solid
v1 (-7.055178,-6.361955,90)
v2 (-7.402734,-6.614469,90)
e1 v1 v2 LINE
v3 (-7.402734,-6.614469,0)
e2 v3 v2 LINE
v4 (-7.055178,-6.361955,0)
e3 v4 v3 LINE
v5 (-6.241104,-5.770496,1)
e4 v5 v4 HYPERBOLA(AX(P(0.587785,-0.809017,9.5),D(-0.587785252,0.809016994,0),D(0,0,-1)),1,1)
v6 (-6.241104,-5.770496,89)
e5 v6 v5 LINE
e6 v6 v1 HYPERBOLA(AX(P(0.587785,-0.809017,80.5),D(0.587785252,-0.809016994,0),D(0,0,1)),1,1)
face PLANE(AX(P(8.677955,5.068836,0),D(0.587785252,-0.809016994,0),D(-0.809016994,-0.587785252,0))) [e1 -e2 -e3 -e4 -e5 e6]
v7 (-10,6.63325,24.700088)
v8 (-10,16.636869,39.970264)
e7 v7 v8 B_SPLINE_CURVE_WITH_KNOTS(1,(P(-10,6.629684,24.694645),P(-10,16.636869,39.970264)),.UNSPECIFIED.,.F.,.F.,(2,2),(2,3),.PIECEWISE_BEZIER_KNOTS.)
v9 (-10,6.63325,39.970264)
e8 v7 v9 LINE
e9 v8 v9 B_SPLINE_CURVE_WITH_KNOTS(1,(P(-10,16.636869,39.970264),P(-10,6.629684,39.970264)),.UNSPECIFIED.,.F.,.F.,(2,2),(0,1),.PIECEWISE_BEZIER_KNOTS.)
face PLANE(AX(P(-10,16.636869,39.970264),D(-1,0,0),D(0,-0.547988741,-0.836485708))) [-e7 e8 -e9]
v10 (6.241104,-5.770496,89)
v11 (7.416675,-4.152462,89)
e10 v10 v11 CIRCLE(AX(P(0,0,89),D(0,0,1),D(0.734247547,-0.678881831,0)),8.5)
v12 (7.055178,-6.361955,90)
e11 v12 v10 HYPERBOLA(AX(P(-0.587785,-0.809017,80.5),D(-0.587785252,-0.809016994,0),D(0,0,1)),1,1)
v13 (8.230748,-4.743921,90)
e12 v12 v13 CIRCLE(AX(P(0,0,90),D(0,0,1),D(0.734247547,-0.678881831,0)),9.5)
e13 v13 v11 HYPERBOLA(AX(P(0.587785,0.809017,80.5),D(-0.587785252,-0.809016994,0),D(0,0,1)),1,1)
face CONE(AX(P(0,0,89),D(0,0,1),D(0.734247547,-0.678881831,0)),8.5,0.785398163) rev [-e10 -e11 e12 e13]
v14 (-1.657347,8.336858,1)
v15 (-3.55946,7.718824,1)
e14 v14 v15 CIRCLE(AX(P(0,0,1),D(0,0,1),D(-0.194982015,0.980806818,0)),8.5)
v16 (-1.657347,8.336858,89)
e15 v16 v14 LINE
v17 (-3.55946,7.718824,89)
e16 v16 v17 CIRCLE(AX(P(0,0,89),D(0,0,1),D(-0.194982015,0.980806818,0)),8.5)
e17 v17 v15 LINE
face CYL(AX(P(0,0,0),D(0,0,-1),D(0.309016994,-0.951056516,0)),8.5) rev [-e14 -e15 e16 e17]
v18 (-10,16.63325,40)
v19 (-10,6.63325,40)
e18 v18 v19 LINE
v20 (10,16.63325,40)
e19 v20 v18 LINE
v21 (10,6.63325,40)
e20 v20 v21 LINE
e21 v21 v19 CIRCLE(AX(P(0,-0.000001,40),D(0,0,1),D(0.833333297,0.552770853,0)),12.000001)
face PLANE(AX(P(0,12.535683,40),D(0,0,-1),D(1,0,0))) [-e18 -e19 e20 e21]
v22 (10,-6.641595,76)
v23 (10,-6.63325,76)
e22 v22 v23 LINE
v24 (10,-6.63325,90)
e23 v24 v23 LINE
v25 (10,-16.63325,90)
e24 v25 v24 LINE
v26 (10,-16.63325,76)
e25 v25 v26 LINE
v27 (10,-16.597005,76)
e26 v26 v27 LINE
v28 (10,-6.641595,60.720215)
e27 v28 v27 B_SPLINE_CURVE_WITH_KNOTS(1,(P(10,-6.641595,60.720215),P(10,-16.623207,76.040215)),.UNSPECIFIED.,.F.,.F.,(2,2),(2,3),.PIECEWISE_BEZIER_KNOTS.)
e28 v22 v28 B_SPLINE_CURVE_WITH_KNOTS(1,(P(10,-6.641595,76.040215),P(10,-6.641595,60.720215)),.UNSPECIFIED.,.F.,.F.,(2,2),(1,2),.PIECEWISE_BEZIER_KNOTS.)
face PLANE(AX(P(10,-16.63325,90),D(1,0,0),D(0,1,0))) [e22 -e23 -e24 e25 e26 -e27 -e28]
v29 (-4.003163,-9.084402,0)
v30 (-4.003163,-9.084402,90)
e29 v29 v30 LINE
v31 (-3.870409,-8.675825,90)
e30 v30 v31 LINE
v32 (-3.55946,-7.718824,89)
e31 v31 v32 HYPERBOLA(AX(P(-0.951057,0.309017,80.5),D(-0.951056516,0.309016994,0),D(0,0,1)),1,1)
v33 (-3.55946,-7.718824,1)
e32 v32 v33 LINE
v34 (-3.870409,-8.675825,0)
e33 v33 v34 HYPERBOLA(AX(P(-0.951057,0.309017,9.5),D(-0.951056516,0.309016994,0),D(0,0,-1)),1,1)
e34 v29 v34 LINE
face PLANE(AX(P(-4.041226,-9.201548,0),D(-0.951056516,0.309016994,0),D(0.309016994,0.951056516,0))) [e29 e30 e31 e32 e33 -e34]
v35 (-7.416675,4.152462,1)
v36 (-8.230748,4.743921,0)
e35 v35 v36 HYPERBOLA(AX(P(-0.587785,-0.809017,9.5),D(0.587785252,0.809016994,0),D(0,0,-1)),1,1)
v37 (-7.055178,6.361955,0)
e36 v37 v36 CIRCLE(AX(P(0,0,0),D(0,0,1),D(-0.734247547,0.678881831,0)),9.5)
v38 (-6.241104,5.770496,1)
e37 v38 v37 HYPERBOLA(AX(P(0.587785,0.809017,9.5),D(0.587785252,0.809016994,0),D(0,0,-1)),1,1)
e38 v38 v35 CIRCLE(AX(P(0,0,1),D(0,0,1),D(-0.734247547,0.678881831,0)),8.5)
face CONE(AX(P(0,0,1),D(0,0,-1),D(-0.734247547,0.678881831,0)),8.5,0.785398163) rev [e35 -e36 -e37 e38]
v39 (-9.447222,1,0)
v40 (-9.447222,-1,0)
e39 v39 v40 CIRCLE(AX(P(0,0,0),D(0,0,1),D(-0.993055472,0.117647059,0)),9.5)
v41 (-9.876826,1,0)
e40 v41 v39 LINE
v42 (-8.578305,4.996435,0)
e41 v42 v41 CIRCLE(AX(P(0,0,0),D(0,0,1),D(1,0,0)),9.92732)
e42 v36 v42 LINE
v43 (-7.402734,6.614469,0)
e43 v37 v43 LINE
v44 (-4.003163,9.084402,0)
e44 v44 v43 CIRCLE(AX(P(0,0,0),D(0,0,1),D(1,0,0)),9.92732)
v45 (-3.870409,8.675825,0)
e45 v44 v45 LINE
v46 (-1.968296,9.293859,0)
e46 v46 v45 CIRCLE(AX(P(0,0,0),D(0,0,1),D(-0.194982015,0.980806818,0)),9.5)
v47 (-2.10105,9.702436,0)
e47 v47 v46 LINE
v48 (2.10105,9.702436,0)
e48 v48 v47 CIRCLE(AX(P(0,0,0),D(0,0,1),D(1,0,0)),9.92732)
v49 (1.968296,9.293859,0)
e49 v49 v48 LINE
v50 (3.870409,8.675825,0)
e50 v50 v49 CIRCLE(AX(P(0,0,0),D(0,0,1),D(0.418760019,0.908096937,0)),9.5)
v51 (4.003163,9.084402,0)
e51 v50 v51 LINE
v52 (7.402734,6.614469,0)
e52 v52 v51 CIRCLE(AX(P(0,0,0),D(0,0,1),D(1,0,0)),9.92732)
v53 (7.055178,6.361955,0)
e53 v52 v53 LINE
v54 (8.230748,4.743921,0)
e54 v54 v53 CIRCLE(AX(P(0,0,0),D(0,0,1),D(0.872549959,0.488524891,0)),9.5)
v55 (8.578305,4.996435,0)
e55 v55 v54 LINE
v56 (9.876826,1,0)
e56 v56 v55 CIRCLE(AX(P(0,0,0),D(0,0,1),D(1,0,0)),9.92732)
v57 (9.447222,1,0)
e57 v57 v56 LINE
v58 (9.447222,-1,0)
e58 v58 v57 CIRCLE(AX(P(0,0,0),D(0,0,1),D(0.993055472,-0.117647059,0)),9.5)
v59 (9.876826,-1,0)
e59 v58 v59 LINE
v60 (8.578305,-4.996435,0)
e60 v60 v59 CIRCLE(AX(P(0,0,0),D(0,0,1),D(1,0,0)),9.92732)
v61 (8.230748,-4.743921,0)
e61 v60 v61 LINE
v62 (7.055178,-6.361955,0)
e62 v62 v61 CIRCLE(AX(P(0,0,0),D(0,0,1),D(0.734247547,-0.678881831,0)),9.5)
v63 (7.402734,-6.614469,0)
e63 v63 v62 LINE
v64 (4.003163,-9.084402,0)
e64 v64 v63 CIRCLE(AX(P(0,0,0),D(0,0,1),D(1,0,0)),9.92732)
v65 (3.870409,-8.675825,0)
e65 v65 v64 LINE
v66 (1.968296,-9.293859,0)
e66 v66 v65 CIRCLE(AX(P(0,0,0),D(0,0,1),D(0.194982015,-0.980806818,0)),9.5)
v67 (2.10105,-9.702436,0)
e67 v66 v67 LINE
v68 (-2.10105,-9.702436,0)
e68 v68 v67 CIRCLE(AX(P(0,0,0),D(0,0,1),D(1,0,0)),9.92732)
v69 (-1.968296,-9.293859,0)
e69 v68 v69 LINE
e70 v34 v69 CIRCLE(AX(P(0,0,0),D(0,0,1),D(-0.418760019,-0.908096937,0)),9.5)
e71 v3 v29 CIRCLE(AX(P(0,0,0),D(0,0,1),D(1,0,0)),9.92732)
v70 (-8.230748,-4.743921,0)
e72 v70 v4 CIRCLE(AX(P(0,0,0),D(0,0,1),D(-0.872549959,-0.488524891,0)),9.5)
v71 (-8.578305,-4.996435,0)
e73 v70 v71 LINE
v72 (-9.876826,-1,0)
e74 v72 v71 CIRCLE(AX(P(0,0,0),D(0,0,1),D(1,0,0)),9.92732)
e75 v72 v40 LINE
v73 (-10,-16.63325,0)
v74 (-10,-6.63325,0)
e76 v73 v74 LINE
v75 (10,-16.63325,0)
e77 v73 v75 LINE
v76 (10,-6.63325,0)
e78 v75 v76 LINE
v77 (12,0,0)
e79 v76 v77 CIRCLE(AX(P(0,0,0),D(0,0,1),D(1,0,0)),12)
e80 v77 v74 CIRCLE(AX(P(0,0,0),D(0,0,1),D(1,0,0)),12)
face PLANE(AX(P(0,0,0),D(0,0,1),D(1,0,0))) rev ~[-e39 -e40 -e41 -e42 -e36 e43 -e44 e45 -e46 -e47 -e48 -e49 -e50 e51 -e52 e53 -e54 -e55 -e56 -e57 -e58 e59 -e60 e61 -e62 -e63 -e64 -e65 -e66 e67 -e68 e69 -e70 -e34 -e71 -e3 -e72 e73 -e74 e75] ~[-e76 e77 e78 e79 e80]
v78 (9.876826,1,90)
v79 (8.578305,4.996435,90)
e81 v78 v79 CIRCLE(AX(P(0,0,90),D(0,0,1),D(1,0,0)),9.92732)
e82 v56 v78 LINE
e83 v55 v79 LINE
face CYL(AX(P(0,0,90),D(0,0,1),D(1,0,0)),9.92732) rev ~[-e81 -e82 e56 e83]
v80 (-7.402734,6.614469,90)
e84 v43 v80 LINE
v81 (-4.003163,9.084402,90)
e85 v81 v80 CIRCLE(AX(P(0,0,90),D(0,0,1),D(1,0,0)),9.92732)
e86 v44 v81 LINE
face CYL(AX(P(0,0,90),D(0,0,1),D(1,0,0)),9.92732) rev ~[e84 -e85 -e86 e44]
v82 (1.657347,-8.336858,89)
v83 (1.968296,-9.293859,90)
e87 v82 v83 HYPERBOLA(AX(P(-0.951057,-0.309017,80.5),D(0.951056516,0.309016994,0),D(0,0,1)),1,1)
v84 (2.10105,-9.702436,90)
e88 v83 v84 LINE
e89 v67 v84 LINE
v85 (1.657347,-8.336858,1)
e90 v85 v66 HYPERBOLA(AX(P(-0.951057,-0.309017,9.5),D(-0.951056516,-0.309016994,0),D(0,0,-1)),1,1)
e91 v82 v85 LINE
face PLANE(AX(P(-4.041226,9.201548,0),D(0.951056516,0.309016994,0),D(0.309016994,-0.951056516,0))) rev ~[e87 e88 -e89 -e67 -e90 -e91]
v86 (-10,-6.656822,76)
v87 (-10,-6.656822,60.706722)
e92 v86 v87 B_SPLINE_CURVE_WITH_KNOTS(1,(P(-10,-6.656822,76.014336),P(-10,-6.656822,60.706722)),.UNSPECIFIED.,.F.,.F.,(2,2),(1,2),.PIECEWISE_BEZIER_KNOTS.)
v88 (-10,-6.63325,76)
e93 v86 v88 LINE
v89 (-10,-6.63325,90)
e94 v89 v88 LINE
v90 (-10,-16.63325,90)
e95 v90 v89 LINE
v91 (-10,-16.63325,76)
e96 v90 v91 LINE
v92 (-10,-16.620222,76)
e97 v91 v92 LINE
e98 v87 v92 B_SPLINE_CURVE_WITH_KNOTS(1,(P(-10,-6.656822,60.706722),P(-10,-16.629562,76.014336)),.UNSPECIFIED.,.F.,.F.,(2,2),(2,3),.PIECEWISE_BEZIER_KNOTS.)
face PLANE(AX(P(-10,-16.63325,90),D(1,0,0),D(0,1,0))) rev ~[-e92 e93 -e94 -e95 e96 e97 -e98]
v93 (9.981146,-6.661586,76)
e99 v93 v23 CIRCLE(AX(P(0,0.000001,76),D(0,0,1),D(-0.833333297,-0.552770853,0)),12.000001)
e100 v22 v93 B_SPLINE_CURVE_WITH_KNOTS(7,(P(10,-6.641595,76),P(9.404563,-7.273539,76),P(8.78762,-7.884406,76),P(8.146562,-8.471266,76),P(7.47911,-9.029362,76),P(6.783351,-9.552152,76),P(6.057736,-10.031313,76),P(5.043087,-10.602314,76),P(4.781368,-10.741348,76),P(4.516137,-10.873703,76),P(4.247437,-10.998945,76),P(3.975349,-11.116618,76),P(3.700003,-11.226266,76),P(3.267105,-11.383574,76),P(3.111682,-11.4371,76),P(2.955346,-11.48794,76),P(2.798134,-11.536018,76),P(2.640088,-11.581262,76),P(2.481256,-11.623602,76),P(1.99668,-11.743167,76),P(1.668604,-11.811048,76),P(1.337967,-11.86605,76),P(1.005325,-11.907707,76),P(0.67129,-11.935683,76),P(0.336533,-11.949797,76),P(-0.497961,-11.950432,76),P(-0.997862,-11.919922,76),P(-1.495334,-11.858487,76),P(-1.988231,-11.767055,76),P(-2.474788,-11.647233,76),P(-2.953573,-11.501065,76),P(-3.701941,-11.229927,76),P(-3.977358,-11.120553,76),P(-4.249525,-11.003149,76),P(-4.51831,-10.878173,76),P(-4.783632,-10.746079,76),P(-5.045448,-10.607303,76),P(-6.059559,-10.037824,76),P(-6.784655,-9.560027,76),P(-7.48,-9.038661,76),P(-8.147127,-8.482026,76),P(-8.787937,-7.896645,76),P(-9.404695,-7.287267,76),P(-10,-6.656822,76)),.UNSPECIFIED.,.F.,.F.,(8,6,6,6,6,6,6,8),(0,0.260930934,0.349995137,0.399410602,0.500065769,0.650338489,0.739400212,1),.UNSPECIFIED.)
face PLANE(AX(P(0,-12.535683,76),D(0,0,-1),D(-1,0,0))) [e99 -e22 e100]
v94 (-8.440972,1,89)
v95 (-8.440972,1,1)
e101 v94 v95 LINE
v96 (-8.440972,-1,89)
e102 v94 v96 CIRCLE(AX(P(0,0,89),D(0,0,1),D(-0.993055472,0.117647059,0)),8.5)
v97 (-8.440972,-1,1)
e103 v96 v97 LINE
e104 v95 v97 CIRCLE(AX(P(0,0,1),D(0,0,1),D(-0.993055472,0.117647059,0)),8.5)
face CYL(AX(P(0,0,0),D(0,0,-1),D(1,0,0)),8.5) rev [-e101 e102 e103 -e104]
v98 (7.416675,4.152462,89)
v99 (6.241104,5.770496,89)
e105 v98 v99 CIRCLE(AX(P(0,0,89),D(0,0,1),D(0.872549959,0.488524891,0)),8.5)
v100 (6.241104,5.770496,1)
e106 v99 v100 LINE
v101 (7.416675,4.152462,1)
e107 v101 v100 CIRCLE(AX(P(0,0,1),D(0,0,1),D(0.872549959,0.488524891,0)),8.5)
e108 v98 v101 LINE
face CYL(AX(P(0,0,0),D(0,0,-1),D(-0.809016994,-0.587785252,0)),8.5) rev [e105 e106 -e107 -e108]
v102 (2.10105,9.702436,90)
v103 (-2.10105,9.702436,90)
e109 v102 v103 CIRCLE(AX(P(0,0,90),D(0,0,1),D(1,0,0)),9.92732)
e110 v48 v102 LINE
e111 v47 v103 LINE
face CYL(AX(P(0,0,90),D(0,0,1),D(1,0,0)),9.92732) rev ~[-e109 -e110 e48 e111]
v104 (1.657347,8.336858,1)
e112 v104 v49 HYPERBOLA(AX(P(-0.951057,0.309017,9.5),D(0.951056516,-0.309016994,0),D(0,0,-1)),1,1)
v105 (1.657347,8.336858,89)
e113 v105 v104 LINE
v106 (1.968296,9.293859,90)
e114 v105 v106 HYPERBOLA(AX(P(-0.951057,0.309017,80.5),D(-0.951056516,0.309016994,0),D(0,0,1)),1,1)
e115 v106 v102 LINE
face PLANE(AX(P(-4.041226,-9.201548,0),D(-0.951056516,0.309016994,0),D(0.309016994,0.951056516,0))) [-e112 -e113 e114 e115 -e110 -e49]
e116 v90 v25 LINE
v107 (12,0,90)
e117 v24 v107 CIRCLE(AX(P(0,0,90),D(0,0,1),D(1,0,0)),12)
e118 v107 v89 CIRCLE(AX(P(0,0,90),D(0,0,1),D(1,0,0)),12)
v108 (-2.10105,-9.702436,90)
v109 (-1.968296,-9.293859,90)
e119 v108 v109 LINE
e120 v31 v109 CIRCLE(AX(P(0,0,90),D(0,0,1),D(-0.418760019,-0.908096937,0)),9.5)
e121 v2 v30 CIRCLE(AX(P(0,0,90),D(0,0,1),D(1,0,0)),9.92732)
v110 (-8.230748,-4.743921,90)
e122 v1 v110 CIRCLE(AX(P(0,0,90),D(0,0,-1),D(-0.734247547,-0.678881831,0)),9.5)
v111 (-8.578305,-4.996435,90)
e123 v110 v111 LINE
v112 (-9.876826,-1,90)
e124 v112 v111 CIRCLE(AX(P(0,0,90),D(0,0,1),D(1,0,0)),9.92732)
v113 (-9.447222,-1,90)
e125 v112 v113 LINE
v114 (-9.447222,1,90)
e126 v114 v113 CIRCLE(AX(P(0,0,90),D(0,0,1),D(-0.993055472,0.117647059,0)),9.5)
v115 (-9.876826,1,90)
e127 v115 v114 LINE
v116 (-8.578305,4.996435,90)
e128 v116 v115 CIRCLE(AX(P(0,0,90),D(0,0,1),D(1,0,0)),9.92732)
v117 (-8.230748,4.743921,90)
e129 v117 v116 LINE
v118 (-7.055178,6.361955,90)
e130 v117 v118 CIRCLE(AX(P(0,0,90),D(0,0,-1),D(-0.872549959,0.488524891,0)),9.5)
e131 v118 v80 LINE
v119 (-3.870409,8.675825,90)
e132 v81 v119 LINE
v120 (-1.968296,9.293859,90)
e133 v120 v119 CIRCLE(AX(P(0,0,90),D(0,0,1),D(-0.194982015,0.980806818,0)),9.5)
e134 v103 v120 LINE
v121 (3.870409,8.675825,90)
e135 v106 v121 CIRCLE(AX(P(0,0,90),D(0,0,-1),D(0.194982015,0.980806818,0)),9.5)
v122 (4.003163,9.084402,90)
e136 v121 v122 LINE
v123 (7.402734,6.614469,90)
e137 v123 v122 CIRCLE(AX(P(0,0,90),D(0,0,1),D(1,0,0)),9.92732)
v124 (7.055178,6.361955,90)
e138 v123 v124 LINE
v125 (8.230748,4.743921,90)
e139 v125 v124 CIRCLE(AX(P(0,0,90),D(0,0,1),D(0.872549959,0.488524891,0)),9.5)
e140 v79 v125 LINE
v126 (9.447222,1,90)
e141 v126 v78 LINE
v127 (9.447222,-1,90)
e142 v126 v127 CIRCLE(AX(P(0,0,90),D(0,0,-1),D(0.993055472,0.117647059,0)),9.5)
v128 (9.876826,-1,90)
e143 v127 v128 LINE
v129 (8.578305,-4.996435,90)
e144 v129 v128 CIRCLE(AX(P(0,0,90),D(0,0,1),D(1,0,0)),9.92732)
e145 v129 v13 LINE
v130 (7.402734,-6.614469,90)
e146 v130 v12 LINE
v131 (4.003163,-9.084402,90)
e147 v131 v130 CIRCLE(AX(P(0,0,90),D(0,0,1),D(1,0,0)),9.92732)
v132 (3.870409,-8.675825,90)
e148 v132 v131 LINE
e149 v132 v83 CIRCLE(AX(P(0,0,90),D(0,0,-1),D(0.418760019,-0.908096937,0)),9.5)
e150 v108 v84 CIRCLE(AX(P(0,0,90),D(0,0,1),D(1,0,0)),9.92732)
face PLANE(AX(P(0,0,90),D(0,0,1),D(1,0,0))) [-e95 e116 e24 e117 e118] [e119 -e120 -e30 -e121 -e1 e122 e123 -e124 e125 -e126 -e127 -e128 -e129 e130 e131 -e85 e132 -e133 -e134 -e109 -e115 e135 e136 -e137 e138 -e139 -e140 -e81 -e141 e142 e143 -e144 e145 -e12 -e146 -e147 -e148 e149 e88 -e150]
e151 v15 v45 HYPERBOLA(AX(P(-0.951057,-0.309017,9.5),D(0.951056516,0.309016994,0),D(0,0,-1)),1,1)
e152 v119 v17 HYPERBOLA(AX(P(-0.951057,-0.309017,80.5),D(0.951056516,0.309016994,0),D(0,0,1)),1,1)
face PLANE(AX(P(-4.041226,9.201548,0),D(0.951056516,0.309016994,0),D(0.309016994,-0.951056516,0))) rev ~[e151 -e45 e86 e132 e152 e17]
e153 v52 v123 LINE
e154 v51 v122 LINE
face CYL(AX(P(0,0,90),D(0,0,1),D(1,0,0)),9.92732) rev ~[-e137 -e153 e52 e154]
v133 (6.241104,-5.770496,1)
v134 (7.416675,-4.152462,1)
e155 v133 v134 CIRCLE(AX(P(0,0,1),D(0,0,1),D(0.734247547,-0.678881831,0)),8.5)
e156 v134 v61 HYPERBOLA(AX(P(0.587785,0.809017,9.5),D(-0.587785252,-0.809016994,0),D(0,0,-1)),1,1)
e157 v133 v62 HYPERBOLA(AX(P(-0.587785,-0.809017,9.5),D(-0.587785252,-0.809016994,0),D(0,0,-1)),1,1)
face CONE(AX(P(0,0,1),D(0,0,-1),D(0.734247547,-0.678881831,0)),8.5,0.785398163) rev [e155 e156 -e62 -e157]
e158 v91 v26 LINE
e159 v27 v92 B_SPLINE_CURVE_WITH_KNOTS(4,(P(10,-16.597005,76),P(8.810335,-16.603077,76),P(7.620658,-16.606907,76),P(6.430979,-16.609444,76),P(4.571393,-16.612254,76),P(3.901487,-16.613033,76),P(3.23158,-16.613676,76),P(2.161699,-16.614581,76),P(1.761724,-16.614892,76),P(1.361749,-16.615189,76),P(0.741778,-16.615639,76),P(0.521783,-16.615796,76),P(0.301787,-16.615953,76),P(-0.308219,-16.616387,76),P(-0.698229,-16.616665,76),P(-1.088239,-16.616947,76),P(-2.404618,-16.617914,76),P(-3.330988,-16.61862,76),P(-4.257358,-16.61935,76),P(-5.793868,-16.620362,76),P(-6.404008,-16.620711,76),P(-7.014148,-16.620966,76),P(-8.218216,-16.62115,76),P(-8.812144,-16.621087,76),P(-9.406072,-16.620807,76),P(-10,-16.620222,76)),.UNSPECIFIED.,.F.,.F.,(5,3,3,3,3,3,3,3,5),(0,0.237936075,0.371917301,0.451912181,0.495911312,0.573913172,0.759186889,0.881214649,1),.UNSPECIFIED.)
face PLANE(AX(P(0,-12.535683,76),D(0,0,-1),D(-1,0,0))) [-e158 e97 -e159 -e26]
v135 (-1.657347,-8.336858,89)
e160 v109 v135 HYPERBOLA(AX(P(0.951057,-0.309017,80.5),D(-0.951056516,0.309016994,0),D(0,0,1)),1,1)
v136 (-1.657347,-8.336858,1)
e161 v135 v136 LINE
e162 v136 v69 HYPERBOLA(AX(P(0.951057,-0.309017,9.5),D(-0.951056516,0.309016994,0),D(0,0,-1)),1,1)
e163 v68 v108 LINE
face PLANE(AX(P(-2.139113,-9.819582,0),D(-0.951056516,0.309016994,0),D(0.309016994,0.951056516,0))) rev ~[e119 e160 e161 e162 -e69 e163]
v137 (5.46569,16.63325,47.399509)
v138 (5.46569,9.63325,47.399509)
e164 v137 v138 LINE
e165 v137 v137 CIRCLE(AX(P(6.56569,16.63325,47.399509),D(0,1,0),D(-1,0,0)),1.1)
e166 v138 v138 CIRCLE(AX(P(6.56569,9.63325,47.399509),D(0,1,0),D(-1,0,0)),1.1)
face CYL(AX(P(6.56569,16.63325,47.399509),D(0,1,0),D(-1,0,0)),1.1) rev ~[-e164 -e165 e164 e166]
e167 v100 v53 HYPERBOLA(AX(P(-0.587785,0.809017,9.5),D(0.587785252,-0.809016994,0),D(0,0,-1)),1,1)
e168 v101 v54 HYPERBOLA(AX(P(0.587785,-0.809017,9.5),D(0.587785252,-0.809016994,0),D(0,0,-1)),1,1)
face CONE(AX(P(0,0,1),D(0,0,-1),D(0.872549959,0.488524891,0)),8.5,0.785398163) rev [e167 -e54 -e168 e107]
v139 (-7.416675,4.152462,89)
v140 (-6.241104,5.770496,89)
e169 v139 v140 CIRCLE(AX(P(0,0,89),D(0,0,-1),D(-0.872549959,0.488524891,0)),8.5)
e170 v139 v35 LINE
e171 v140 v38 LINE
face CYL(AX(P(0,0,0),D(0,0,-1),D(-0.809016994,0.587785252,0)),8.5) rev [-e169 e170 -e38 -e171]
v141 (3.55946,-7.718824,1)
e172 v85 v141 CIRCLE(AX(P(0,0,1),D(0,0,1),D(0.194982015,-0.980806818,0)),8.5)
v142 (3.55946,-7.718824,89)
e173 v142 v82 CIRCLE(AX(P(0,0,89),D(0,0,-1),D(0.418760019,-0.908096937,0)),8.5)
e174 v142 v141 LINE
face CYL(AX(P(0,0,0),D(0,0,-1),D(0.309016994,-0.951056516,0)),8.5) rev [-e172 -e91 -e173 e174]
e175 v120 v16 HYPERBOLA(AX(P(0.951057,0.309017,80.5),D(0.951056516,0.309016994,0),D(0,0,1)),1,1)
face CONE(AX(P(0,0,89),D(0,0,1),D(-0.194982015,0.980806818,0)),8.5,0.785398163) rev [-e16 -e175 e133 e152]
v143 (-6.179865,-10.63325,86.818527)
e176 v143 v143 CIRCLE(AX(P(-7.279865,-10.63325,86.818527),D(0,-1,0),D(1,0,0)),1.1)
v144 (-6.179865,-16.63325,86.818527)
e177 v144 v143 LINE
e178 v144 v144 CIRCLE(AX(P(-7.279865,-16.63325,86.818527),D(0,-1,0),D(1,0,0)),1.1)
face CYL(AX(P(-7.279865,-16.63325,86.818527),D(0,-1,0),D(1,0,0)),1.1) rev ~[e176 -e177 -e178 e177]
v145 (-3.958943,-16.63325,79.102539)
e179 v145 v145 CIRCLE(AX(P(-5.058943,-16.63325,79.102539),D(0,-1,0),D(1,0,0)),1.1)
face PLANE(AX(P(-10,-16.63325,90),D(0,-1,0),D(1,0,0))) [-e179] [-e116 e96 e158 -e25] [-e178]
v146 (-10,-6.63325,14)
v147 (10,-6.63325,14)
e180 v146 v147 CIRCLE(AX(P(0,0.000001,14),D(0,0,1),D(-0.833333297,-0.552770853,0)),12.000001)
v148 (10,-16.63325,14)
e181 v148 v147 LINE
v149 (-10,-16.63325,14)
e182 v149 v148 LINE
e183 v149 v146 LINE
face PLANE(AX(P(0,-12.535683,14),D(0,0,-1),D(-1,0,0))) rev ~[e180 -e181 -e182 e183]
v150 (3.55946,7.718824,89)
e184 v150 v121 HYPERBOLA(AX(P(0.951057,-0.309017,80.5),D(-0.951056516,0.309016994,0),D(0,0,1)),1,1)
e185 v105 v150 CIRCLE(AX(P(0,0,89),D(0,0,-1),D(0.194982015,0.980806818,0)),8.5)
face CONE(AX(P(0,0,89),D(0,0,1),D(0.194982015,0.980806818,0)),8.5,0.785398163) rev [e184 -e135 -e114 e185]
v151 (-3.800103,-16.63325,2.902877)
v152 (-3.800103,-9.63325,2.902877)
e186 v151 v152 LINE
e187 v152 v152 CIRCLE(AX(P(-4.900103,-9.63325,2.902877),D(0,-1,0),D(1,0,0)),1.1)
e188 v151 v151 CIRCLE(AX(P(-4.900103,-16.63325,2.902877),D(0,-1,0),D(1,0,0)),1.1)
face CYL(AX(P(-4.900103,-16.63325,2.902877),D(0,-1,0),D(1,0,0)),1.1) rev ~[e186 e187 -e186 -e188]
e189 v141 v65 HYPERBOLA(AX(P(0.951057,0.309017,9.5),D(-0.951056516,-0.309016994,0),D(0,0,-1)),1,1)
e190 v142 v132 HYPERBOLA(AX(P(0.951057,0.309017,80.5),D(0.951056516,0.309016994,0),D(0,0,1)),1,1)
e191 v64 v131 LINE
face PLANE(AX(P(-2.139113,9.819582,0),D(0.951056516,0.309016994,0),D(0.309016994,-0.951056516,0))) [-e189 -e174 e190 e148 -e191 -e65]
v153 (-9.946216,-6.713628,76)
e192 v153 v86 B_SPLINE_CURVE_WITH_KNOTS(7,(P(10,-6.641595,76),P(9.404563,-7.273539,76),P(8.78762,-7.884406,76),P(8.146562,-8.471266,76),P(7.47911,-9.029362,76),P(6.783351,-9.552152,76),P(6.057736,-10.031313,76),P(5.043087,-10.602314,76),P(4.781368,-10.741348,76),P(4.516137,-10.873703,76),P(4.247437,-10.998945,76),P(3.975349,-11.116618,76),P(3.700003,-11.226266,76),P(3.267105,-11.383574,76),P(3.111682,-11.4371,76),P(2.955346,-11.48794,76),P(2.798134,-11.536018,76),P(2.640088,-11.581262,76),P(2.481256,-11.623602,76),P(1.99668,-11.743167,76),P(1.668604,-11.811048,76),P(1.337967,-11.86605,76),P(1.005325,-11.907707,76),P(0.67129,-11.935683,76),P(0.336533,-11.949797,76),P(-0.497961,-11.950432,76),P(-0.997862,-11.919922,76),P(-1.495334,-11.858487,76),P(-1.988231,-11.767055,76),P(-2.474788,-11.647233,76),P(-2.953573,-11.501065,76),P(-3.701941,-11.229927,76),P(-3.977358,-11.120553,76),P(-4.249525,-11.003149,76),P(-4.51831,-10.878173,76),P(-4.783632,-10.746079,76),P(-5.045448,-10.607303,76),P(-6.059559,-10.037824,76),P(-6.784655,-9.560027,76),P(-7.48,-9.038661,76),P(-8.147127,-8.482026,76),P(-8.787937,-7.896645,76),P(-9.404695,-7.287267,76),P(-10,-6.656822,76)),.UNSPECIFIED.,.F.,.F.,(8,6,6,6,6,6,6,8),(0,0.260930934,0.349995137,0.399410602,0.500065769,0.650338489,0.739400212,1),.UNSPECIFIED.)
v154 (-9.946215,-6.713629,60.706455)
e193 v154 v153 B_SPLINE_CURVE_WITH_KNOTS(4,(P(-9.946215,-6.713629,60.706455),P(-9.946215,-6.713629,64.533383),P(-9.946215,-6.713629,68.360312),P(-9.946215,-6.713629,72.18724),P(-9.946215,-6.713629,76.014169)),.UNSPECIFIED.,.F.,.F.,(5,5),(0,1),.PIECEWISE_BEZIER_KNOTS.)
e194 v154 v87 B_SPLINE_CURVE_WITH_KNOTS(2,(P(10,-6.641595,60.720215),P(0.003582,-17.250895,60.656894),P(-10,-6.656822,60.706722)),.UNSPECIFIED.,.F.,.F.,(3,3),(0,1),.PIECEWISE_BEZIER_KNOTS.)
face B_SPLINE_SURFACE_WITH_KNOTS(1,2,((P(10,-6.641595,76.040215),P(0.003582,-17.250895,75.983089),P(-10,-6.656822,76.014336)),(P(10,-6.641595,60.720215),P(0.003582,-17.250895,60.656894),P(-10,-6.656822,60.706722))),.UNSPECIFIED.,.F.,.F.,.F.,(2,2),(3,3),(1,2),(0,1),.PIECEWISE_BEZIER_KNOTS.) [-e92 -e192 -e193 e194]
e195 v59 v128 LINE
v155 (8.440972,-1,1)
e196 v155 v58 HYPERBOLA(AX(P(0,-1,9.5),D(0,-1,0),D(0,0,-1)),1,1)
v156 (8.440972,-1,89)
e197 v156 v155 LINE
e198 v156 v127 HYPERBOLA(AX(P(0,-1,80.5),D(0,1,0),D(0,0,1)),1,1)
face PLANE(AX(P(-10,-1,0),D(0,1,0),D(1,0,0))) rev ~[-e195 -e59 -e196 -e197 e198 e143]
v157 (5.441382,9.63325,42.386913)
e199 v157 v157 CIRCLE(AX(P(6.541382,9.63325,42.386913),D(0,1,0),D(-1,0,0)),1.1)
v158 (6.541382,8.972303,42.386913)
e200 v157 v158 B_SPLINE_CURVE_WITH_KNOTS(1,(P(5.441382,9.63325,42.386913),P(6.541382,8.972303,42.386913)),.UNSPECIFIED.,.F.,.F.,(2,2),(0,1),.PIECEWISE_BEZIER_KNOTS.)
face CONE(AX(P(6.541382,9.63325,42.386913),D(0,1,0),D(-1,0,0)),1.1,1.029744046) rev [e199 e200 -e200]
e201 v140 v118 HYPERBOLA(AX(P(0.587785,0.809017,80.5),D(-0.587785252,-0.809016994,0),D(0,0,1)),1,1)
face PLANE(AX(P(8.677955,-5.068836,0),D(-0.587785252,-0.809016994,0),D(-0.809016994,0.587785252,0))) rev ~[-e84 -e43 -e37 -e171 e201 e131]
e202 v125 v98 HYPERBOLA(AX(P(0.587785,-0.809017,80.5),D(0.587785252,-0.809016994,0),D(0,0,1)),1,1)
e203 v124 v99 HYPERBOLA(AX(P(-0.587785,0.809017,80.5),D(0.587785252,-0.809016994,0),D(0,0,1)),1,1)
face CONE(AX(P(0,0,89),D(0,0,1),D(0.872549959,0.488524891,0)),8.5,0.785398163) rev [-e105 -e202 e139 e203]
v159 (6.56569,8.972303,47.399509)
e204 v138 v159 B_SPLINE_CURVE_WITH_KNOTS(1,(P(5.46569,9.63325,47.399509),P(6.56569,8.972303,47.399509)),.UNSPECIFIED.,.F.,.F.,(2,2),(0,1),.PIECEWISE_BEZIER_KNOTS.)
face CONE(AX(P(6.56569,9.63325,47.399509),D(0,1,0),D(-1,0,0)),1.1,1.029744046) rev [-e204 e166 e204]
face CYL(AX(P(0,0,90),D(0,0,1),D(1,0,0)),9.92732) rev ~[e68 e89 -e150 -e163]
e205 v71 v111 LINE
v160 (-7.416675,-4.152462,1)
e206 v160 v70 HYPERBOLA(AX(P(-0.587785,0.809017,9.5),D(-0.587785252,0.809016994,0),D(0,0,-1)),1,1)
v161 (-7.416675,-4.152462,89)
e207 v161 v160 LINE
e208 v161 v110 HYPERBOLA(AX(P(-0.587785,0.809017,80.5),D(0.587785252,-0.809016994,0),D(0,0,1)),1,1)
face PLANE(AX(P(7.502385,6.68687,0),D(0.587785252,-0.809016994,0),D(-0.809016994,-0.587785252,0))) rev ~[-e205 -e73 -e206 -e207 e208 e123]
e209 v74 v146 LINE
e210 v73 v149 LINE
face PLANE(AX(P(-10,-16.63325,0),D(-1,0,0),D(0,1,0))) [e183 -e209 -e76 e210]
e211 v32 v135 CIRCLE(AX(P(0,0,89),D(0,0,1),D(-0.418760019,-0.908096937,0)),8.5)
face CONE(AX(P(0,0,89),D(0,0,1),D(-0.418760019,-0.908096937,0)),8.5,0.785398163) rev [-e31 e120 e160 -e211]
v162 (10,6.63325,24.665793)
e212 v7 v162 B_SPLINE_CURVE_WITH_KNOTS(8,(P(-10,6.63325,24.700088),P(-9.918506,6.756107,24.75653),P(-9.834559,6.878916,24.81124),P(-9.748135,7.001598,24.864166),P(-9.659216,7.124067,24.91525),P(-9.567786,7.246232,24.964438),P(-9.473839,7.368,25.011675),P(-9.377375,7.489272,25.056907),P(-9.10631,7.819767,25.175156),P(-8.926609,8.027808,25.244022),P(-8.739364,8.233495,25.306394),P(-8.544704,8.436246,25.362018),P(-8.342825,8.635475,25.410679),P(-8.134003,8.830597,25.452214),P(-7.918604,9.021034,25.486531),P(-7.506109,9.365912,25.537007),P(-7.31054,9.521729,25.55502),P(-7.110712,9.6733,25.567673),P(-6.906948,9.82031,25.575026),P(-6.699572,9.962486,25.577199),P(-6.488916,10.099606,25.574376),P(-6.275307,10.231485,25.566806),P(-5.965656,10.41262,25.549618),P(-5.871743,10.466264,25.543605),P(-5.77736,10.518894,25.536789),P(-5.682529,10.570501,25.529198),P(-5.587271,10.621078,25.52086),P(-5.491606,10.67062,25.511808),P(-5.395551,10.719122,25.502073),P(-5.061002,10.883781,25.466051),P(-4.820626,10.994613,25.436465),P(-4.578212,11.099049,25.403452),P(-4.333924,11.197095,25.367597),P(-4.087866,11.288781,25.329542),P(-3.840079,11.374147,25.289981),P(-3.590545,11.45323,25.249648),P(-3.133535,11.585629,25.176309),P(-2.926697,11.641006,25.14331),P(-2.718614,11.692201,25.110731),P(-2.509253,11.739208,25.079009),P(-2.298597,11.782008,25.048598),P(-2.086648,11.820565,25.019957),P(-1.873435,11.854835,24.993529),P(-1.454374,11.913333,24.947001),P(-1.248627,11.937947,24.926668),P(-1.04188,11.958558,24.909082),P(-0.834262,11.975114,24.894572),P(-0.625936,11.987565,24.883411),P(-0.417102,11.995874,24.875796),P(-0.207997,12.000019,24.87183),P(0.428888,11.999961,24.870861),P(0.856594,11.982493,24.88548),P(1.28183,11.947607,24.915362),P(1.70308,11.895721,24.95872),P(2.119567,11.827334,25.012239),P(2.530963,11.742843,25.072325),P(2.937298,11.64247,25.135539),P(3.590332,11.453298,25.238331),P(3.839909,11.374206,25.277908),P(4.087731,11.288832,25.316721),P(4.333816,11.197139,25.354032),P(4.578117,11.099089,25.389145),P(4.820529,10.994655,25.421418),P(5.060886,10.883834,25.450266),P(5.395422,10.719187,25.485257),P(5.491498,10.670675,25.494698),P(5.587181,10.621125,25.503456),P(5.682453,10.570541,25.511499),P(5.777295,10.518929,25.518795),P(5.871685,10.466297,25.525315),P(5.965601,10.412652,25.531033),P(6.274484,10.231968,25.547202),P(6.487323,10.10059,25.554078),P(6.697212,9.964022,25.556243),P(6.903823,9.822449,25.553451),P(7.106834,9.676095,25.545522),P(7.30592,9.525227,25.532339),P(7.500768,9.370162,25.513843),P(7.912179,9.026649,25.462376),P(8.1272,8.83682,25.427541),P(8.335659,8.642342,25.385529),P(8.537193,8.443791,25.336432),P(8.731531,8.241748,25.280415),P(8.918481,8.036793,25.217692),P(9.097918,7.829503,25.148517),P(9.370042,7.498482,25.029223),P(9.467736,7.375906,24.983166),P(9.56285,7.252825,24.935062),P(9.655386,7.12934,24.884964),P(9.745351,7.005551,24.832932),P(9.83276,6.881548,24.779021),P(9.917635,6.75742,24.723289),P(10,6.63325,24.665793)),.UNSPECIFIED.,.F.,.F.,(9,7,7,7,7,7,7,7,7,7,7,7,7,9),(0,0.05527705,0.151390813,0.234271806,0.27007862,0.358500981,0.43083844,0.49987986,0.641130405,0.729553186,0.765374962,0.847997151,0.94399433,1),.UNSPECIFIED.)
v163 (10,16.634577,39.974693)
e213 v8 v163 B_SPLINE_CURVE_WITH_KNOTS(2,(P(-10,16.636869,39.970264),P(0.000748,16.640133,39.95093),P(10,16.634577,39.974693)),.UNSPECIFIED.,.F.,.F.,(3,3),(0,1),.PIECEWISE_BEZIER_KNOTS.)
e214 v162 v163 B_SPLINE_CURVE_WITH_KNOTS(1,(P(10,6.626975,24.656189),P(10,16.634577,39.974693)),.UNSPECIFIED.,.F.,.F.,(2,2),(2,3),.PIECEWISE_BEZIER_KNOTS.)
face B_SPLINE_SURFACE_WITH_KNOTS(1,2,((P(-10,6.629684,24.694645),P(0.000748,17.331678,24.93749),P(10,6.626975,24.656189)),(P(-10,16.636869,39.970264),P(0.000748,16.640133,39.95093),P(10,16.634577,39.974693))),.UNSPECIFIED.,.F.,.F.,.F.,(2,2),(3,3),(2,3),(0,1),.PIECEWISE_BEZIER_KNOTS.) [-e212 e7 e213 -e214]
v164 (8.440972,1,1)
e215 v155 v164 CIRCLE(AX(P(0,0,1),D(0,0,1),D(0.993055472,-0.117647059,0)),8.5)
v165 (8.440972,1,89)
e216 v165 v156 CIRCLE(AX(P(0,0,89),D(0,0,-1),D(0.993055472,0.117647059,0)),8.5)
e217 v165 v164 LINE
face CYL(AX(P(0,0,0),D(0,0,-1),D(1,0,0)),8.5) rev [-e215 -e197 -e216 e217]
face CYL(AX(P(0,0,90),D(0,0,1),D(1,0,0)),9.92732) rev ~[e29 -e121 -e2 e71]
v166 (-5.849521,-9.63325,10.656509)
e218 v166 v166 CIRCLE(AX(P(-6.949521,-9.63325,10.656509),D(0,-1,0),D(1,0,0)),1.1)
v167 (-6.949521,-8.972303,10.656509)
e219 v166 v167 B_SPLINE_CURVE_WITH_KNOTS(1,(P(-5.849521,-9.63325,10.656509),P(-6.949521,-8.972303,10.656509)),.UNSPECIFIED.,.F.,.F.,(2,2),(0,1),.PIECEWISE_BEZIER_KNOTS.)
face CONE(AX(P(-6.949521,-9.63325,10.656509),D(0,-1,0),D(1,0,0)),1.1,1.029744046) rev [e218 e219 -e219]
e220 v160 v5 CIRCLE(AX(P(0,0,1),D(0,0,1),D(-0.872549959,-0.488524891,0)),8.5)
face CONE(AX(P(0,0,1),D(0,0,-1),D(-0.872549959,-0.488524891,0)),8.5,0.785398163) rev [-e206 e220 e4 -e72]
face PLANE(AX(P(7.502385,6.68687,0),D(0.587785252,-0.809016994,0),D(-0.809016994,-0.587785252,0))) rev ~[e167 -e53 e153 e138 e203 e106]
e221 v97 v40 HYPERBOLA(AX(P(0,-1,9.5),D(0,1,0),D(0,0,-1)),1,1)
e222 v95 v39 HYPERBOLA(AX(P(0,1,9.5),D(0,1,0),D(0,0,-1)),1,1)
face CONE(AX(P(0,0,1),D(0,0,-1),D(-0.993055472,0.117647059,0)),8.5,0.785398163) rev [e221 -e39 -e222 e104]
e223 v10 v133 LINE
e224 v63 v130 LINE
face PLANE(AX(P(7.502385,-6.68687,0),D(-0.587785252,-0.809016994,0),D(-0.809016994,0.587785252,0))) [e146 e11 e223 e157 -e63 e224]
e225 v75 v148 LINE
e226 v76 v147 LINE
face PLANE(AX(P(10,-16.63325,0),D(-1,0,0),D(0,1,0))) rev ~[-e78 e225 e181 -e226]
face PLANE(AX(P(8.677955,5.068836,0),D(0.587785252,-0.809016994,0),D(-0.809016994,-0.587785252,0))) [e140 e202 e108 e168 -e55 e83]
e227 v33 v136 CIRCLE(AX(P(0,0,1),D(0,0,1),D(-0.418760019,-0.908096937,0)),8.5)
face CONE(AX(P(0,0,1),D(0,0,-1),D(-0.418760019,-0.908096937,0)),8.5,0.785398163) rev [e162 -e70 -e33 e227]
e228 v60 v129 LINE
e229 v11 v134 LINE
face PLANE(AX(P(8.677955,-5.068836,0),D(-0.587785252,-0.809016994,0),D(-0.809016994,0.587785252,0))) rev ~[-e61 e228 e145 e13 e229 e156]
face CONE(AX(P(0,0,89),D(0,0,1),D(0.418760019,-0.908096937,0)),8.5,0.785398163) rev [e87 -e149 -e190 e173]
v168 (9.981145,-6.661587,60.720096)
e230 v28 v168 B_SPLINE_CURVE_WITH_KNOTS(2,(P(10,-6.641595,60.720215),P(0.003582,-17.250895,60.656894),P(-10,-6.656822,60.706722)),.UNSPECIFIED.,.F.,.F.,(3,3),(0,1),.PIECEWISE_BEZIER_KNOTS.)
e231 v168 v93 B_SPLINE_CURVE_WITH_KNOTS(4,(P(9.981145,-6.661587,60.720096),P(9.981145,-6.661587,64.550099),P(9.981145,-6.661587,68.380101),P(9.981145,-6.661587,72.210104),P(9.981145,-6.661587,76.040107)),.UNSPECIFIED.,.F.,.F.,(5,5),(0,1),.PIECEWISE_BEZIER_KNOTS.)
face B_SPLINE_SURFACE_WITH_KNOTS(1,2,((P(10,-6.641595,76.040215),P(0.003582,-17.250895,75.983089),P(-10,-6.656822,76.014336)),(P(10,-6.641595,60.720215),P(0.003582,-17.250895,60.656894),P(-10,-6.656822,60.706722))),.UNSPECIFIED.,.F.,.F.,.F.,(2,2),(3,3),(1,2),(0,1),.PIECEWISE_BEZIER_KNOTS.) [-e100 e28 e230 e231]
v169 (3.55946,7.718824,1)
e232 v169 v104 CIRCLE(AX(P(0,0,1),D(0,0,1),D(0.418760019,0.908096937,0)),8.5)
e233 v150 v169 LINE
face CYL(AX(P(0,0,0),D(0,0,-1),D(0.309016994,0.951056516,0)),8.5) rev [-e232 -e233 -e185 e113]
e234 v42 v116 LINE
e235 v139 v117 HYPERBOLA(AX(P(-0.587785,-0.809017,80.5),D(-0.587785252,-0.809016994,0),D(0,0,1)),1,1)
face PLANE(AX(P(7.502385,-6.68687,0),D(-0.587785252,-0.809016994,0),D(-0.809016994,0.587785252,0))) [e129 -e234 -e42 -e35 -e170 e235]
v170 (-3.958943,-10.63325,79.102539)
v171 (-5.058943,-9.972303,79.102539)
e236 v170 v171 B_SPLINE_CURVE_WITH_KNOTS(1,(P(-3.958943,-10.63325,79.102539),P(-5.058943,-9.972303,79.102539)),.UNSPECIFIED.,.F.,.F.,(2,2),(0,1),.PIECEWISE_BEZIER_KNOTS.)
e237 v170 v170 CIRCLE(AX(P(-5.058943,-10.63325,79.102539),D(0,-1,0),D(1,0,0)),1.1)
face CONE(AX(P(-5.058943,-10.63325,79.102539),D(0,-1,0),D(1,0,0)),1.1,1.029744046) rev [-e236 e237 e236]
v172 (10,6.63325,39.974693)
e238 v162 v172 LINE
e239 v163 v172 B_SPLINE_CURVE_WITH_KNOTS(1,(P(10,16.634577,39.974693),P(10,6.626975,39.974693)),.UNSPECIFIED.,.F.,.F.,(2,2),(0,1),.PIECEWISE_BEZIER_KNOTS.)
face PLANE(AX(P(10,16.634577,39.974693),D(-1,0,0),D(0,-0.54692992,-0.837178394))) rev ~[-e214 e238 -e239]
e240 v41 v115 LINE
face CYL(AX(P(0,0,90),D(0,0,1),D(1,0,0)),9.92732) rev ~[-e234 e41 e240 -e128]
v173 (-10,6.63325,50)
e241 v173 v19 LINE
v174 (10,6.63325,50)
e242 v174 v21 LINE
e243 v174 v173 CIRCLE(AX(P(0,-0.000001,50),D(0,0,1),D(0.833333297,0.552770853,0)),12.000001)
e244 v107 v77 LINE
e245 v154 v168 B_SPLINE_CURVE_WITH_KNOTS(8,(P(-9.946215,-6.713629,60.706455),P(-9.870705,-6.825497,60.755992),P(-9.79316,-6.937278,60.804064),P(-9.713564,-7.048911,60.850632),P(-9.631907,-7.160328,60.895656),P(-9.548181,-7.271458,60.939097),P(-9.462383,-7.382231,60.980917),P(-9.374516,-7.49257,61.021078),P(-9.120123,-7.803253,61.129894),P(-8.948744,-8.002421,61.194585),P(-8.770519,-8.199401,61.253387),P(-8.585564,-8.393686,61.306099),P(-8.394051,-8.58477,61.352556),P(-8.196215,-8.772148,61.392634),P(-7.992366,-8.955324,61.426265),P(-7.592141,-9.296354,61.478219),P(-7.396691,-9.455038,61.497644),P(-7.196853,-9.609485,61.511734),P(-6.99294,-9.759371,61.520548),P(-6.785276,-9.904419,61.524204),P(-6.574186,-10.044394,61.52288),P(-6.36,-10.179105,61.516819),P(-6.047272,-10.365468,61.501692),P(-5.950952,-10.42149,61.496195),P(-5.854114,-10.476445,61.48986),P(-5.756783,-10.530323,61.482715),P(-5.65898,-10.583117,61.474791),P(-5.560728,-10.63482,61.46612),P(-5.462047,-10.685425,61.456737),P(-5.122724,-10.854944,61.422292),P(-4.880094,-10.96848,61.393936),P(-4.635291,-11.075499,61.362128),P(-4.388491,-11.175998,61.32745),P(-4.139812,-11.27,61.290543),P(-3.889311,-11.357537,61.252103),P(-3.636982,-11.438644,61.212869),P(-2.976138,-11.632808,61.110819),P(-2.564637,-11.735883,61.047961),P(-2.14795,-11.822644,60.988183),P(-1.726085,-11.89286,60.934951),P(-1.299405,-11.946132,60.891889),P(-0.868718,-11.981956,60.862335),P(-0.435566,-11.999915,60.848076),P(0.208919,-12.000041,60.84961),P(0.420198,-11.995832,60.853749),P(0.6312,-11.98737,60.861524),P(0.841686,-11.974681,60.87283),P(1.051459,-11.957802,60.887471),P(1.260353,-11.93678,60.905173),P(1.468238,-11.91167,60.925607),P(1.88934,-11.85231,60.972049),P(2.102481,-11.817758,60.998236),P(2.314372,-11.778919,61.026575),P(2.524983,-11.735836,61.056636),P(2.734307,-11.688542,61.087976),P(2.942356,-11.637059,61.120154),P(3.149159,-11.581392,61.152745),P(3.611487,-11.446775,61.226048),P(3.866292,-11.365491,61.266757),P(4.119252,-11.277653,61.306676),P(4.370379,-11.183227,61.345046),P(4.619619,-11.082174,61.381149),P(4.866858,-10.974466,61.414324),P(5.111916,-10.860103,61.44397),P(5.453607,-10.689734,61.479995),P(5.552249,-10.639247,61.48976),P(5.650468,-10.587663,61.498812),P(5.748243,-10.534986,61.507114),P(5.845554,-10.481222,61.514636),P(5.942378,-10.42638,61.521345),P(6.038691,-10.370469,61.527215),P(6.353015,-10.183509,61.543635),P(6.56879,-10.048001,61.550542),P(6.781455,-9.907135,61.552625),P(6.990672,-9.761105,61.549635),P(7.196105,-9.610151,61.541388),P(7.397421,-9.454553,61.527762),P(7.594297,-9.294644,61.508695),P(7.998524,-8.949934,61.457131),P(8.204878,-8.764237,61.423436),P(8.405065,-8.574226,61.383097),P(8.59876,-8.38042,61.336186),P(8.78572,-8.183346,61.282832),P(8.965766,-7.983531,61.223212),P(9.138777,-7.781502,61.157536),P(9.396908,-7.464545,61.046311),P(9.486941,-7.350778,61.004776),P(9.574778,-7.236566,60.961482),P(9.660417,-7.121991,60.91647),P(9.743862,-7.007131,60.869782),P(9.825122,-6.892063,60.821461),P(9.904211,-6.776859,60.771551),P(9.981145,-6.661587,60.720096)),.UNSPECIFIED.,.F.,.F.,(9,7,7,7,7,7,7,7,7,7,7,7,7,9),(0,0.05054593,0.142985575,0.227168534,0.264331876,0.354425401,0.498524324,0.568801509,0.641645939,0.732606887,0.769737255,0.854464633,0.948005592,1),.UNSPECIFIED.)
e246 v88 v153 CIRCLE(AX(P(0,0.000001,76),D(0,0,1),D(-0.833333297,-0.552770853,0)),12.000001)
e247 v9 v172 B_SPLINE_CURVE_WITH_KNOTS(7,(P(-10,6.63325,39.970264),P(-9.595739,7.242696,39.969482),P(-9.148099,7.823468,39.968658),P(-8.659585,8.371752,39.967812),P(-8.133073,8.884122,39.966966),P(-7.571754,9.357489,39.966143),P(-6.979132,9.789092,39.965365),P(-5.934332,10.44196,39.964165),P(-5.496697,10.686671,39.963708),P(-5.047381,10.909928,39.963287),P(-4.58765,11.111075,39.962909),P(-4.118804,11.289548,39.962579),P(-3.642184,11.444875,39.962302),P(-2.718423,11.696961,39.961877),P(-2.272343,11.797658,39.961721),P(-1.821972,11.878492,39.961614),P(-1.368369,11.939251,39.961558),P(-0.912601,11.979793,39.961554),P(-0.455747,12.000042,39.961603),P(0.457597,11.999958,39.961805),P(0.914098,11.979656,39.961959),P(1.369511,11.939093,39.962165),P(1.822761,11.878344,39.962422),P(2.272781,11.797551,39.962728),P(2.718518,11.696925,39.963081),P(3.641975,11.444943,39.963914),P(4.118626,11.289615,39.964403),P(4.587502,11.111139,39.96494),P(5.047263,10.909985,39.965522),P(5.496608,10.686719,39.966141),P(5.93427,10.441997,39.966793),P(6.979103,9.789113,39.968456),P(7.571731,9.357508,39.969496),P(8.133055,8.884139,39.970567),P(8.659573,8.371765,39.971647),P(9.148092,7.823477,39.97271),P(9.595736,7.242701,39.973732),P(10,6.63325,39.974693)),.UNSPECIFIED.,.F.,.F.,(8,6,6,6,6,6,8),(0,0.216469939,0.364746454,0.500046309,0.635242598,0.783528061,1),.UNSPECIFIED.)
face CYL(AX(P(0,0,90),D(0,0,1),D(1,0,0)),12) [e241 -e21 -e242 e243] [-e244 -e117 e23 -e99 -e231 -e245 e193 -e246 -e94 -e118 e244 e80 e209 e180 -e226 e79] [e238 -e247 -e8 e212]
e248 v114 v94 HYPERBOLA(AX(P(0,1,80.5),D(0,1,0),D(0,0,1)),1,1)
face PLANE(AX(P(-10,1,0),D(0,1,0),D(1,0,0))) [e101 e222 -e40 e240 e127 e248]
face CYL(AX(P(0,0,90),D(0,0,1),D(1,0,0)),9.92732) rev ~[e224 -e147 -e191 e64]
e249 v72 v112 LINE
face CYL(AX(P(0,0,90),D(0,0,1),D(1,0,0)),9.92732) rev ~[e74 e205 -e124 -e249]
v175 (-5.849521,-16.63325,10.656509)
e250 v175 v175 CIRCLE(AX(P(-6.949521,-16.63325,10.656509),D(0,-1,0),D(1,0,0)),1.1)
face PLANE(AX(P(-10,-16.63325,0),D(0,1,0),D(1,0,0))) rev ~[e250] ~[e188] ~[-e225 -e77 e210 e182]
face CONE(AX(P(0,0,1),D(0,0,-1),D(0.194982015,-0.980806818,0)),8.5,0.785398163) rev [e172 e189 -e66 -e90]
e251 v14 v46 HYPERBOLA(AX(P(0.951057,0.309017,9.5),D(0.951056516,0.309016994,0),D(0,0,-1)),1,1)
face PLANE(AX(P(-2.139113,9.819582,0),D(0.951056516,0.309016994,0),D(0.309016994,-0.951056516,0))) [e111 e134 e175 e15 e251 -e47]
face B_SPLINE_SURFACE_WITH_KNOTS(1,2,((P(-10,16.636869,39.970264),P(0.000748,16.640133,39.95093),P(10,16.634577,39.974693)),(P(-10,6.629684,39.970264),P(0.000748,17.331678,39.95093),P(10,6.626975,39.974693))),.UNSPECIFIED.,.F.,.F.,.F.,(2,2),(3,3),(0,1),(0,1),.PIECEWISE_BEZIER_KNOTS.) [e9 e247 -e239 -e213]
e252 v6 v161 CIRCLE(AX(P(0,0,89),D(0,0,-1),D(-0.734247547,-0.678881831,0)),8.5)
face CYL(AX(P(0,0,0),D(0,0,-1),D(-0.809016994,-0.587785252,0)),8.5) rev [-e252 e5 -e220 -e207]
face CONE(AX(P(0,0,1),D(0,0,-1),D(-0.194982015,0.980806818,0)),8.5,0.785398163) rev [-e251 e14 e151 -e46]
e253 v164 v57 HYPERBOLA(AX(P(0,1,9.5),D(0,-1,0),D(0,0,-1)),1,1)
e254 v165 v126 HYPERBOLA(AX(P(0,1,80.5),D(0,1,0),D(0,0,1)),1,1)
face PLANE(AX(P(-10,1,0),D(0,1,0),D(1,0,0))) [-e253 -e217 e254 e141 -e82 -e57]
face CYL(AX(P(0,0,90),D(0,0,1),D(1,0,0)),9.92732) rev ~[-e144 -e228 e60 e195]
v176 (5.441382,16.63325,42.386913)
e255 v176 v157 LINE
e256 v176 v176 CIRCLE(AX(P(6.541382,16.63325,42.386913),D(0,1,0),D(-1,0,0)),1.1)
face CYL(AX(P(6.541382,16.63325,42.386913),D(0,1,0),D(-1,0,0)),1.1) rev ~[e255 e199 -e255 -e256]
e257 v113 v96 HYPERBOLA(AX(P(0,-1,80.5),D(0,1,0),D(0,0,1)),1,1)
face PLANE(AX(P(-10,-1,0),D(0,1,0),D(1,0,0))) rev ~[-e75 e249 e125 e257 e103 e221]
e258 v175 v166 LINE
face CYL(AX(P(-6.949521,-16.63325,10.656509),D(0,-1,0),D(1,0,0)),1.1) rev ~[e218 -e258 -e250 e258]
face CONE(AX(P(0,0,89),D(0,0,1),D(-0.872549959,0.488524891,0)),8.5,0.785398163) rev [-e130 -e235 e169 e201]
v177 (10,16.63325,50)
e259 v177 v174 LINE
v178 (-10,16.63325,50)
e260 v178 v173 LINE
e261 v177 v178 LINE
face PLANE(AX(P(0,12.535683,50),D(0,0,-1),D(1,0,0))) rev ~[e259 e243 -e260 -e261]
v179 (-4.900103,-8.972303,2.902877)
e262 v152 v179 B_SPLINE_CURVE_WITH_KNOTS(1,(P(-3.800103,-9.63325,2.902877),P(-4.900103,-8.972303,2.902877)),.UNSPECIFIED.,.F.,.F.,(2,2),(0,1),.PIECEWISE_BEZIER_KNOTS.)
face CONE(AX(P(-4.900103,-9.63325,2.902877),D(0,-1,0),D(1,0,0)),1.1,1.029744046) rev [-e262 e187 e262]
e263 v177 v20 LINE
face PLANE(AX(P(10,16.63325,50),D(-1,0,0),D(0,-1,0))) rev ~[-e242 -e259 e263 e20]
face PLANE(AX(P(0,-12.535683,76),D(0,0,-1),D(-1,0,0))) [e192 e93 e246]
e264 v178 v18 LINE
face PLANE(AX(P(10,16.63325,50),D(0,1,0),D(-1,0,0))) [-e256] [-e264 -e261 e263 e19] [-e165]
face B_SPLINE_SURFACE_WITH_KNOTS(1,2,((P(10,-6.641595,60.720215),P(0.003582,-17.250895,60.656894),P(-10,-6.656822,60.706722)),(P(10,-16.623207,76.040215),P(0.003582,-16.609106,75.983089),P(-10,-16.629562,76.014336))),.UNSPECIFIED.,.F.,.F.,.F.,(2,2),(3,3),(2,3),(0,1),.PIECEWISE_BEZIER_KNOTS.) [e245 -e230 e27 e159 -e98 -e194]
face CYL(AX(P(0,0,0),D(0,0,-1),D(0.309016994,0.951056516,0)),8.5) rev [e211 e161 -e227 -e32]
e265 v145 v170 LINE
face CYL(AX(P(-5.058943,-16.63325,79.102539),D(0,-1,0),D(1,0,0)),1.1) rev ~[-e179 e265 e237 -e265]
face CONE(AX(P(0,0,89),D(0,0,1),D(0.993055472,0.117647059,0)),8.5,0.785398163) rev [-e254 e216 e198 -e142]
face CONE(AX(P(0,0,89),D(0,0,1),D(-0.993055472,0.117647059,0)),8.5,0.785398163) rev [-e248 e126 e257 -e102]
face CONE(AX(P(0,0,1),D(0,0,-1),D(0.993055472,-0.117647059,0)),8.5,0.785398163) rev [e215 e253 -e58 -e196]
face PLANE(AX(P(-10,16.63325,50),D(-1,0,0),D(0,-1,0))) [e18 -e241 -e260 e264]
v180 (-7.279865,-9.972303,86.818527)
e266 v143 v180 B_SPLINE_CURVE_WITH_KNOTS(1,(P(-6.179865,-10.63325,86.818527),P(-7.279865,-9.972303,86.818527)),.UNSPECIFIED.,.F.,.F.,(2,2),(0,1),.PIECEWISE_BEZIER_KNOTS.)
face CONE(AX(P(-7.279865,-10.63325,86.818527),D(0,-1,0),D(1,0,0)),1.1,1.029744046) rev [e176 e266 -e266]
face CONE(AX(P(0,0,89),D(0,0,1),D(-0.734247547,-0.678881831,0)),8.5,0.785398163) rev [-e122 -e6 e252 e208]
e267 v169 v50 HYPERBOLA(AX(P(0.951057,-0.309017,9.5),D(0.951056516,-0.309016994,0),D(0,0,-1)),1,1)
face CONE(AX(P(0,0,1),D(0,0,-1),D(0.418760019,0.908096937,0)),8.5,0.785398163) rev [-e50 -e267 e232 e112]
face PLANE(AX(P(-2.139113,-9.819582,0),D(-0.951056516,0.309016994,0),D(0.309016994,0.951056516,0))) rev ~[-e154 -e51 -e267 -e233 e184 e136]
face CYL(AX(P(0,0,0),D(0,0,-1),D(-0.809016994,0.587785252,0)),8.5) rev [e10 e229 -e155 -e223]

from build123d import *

# Parameters (mm, degrees)
CYLINDER_R     = 8.5
CYLINDER_DEPTH = 90
BOX_W          = 20
BOX_H          = 2
BOX_DEPTH      = 90
CHAMFER_SIZE   = 1
ARRAY_COUNT    = 5
SKETCH_R       = 12
SKETCH_R_2     = 9.92732
PAD_DEPTH      = 90
PAD001_DEPTH   = 14
PAD002_DEPTH   = 14
SKETCH005_R    = 1.1
HOLE_DEPTH     = 6
HOLE_TIPS_R    = 1.1
SKETCH006_R    = 1.1
HOLE001_DEPTH  = 7
HOLE001_TIPS_R = 1.1
PAD005_DEPTH   = 10
SKETCH034_R    = 1.1
HOLE002_DEPTH  = 7
HOLE002_TIPS_R = 1.1


with BuildPart() as cylinder:
    # Cylinder → Cylinder (new body)
    with BuildSketch(Plane.XY):
        Circle(CYLINDER_R)
    extrude(amount=CYLINDER_DEPTH)


with BuildPart() as main_circuit:
    # Box → Box (new body)
    with BuildSketch(Plane(origin=(-10, -1, 0), x_dir=(1, 0, 0), z_dir=(0, 0, 1))):
        with Locations((10, 1)):
            Rectangle(BOX_W, BOX_H)
    extrude(amount=BOX_DEPTH)

    # Cut: cut Cylinder
    add(cylinder.part, mode=Mode.SUBTRACT)

    # Chamfer
    chamfer_edges = [main_circuit.edges().sort_by_distance(p)[0] for p in [
        (-8.5, 0, 90),
        (-8.5, 0, 0),
        (8.48523, -0.50087, 0),
        (8.48523, 0.50087, 0),
        (8.48523, -0.50087, 90),
        (8.48523, 0.50087, 90),
    ]]
    chamfer(chamfer_edges, length=CHAMFER_SIZE)

    # Array: main_circuit ×5 about axis
    array_axis = Axis((0, 0, 0), (0, 0, 1))


with BuildPart() as main_circuit_1:
    add(main_circuit.part)
    for i in range(1, ARRAY_COUNT):
        add(main_circuit.part.rotate(array_axis, i * 360 / ARRAY_COUNT))

    # Sketch (on Face14 of Chamfer) → Pad (new body)
    with BuildSketch(Plane.XY.offset(90)):
        Circle(SKETCH_R)
        Circle(SKETCH_R_2, mode=Mode.SUBTRACT)
    extrude(amount=-PAD_DEPTH)

    # Sketch001 (on Face2 of Pad) → Pad001 (join)
    with BuildSketch(Plane.XY.offset(90)):
        with BuildLine():
            ThreePointArc((-10, -6.63325), (0, -12), (10, -6.63325))
            Line((10, -16.63325), (10, -6.63325))
            Line((-10, -16.63325), (10, -16.63325))
            Line((-10, -16.63325), (-10, -6.63325))
        make_face()
    extrude(amount=-PAD001_DEPTH)

    # Sketch003 (on Face2 of Pad) → Pad002 (join)
    with BuildSketch(Plane.XY):
        with BuildLine():
            ThreePointArc((-10, -6.63325), (0, -12), (10, -6.63325))
            Line((10, -16.63325), (10, -6.63325))
            Line((-10, -16.63325), (10, -16.63325))
            Line((-10, -16.63325), (-10, -6.63325))
        make_face()
    extrude(amount=PAD002_DEPTH)

    # Sketch005 → Hole (cut)
    with BuildSketch(Plane.XZ.offset(16.63325)):
        with Locations((-7.279865, 86.818527)):
            Circle(SKETCH005_R)
        with Locations((-5.058943, 79.102539)):
            Circle(SKETCH005_R)
    extrude(amount=-HOLE_DEPTH, mode=Mode.SUBTRACT)

    # Hole tips → Hole tip 1 section 0
    with BuildSketch(Plane.XZ.offset(10.63325), mode=Mode.PRIVATE) as hole_tip_1_s0:
        with Locations((-7.279865, 86.818527)):
            Circle(HOLE_TIPS_R)
    loft([hole_tip_1_s0.sketch, Vertex(-7.279865, -9.972303, 86.818527)], mode=Mode.SUBTRACT)

    # Hole tips → Hole tip 2 section 0
    with BuildSketch(Plane.XZ.offset(10.63325), mode=Mode.PRIVATE) as hole_tip_2_s0:
        with Locations((-5.058943, 79.102539)):
            Circle(HOLE_TIPS_R)
    loft([hole_tip_2_s0.sketch, Vertex(-5.058943, -9.972303, 79.102539)], mode=Mode.SUBTRACT)

    # Sketch006 (on Face31 of Hole) → Hole001 (cut)
    with BuildSketch(Plane.XZ.offset(16.63325)):
        with Locations((-6.949521, 10.656509)):
            Circle(SKETCH006_R)
        with Locations((-4.900103, 2.902877)):
            Circle(SKETCH006_R)
    extrude(amount=-HOLE001_DEPTH, mode=Mode.SUBTRACT)

    # Hole001 tips → Hole001 tip 1 section 0
    with BuildSketch(Plane.XZ.offset(9.63325), mode=Mode.PRIVATE) as hole001_tip_1_s0:
        with Locations((-6.949521, 10.656509)):
            Circle(HOLE001_TIPS_R)
    loft([hole001_tip_1_s0.sketch, Vertex(-6.949521, -8.972303, 10.656509)], mode=Mode.SUBTRACT)

    # Hole001 tips → Hole001 tip 2 section 0
    with BuildSketch(Plane.XZ.offset(9.63325), mode=Mode.PRIVATE) as hole001_tip_2_s0:
        with Locations((-4.900103, 2.902877)):
            Circle(HOLE001_TIPS_R)
    loft([hole001_tip_2_s0.sketch, Vertex(-4.900103, -8.972303, 2.902877)], mode=Mode.SUBTRACT)

    # Sketch002 (on Face2 of Pad) → Pad005 (join)
    with BuildSketch(Plane(origin=(0, 0, 50), x_dir=(-1, 0, 0), z_dir=(0, 0, 1))):
        with BuildLine():
            ThreePointArc((-10, -6.63325), (0, -12), (10, -6.63325))
            Line((10, -16.63325), (10, -6.63325))
            Line((-10, -16.63325), (10, -16.63325))
            Line((-10, -16.63325), (-10, -6.63325))
        make_face()
    extrude(amount=-PAD005_DEPTH)

    # Sketch008 (on Face12 of Pad005) → AdditiveLoft section 0
    with BuildSketch(Plane(origin=(-10, 0, 0), x_dir=(0, -1, 0), z_dir=(-1, 0, 0))):
        Polygon((-16.636869, 39.970264), (-6.629684, 39.970264), (-6.629684, 24.694645), align=None)
    # Sketch009 (on Face12 of Pad005) → AdditiveLoft section 1
    with BuildSketch(Plane(origin=(0, 0, 0), x_dir=(0, -1, 0), z_dir=(-1, 0, 0))):
        Polygon((-16.637928, 39.961704), (-11.980004, 39.961704), (-11.980004, 24.806454), align=None)
    # Sketch010 (on Face12 of Pad005) → AdditiveLoft section 2
    with BuildSketch(Plane(origin=(10, 0, 0), x_dir=(0, -1, 0), z_dir=(-1, 0, 0))):
        Polygon((-16.634577, 39.974693), (-6.626975, 39.974693), (-6.626975, 24.656189), align=None)
    loft()

    # Sketch011 (on Face9 of AdditiveLoft) → AdditiveLoft001 section 0
    with BuildSketch(Plane.YZ.offset(10)):
        Polygon((-16.623207, 76.040215), (-6.641595, 76.040215), (-6.641595, 60.720215), align=None)
    # Sketch013 (on Face9 of AdditiveLoft) → AdditiveLoft001 section 1
    with BuildSketch(Plane.YZ):
        Polygon((-16.617746, 76.00518), (-11.950053, 76.00518), (-11.950053, 60.68518), align=None)
    # Sketch012 (on Face9 of AdditiveLoft) → AdditiveLoft001 section 2
    with BuildSketch(Plane.YZ.offset(-10)):
        Polygon((-16.629562, 76.014336), (-6.656822, 76.014336), (-6.656822, 60.706722), align=None)
    loft()

    # Sketch034 → Hole002 (cut)
    with BuildSketch(Plane(origin=(0, 16.63325, 0), x_dir=(-1, 0, 0), z_dir=(0, 1, 0))):
        with Locations((-6.56569, 47.399509)):
            Circle(SKETCH034_R)
        with Locations((-6.541382, 42.386913)):
            Circle(SKETCH034_R)
    extrude(amount=-HOLE002_DEPTH, mode=Mode.SUBTRACT)

    # Hole002 tips → Hole002 tip 1 section 0
    with BuildSketch(Plane(origin=(0, 9.63325, 0), x_dir=(-1, 0, 0), z_dir=(0, 1, 0)), mode=Mode.PRIVATE) as hole002_tip_1_s0:
        with Locations((-6.56569, 47.399509)):
            Circle(HOLE002_TIPS_R)
    loft([hole002_tip_1_s0.sketch, Vertex(6.56569, 8.972303, 47.399509)], mode=Mode.SUBTRACT)

    # Hole002 tips → Hole002 tip 2 section 0
    with BuildSketch(Plane(origin=(0, 9.63325, 0), x_dir=(-1, 0, 0), z_dir=(0, 1, 0)), mode=Mode.PRIVATE) as hole002_tip_2_s0:
        with Locations((-6.541382, 42.386913)):
            Circle(HOLE002_TIPS_R)
    loft([hole002_tip_2_s0.sketch, Vertex(6.541382, 8.972303, 42.386913)], mode=Mode.SUBTRACT)


solid = main_circuit_1.part
